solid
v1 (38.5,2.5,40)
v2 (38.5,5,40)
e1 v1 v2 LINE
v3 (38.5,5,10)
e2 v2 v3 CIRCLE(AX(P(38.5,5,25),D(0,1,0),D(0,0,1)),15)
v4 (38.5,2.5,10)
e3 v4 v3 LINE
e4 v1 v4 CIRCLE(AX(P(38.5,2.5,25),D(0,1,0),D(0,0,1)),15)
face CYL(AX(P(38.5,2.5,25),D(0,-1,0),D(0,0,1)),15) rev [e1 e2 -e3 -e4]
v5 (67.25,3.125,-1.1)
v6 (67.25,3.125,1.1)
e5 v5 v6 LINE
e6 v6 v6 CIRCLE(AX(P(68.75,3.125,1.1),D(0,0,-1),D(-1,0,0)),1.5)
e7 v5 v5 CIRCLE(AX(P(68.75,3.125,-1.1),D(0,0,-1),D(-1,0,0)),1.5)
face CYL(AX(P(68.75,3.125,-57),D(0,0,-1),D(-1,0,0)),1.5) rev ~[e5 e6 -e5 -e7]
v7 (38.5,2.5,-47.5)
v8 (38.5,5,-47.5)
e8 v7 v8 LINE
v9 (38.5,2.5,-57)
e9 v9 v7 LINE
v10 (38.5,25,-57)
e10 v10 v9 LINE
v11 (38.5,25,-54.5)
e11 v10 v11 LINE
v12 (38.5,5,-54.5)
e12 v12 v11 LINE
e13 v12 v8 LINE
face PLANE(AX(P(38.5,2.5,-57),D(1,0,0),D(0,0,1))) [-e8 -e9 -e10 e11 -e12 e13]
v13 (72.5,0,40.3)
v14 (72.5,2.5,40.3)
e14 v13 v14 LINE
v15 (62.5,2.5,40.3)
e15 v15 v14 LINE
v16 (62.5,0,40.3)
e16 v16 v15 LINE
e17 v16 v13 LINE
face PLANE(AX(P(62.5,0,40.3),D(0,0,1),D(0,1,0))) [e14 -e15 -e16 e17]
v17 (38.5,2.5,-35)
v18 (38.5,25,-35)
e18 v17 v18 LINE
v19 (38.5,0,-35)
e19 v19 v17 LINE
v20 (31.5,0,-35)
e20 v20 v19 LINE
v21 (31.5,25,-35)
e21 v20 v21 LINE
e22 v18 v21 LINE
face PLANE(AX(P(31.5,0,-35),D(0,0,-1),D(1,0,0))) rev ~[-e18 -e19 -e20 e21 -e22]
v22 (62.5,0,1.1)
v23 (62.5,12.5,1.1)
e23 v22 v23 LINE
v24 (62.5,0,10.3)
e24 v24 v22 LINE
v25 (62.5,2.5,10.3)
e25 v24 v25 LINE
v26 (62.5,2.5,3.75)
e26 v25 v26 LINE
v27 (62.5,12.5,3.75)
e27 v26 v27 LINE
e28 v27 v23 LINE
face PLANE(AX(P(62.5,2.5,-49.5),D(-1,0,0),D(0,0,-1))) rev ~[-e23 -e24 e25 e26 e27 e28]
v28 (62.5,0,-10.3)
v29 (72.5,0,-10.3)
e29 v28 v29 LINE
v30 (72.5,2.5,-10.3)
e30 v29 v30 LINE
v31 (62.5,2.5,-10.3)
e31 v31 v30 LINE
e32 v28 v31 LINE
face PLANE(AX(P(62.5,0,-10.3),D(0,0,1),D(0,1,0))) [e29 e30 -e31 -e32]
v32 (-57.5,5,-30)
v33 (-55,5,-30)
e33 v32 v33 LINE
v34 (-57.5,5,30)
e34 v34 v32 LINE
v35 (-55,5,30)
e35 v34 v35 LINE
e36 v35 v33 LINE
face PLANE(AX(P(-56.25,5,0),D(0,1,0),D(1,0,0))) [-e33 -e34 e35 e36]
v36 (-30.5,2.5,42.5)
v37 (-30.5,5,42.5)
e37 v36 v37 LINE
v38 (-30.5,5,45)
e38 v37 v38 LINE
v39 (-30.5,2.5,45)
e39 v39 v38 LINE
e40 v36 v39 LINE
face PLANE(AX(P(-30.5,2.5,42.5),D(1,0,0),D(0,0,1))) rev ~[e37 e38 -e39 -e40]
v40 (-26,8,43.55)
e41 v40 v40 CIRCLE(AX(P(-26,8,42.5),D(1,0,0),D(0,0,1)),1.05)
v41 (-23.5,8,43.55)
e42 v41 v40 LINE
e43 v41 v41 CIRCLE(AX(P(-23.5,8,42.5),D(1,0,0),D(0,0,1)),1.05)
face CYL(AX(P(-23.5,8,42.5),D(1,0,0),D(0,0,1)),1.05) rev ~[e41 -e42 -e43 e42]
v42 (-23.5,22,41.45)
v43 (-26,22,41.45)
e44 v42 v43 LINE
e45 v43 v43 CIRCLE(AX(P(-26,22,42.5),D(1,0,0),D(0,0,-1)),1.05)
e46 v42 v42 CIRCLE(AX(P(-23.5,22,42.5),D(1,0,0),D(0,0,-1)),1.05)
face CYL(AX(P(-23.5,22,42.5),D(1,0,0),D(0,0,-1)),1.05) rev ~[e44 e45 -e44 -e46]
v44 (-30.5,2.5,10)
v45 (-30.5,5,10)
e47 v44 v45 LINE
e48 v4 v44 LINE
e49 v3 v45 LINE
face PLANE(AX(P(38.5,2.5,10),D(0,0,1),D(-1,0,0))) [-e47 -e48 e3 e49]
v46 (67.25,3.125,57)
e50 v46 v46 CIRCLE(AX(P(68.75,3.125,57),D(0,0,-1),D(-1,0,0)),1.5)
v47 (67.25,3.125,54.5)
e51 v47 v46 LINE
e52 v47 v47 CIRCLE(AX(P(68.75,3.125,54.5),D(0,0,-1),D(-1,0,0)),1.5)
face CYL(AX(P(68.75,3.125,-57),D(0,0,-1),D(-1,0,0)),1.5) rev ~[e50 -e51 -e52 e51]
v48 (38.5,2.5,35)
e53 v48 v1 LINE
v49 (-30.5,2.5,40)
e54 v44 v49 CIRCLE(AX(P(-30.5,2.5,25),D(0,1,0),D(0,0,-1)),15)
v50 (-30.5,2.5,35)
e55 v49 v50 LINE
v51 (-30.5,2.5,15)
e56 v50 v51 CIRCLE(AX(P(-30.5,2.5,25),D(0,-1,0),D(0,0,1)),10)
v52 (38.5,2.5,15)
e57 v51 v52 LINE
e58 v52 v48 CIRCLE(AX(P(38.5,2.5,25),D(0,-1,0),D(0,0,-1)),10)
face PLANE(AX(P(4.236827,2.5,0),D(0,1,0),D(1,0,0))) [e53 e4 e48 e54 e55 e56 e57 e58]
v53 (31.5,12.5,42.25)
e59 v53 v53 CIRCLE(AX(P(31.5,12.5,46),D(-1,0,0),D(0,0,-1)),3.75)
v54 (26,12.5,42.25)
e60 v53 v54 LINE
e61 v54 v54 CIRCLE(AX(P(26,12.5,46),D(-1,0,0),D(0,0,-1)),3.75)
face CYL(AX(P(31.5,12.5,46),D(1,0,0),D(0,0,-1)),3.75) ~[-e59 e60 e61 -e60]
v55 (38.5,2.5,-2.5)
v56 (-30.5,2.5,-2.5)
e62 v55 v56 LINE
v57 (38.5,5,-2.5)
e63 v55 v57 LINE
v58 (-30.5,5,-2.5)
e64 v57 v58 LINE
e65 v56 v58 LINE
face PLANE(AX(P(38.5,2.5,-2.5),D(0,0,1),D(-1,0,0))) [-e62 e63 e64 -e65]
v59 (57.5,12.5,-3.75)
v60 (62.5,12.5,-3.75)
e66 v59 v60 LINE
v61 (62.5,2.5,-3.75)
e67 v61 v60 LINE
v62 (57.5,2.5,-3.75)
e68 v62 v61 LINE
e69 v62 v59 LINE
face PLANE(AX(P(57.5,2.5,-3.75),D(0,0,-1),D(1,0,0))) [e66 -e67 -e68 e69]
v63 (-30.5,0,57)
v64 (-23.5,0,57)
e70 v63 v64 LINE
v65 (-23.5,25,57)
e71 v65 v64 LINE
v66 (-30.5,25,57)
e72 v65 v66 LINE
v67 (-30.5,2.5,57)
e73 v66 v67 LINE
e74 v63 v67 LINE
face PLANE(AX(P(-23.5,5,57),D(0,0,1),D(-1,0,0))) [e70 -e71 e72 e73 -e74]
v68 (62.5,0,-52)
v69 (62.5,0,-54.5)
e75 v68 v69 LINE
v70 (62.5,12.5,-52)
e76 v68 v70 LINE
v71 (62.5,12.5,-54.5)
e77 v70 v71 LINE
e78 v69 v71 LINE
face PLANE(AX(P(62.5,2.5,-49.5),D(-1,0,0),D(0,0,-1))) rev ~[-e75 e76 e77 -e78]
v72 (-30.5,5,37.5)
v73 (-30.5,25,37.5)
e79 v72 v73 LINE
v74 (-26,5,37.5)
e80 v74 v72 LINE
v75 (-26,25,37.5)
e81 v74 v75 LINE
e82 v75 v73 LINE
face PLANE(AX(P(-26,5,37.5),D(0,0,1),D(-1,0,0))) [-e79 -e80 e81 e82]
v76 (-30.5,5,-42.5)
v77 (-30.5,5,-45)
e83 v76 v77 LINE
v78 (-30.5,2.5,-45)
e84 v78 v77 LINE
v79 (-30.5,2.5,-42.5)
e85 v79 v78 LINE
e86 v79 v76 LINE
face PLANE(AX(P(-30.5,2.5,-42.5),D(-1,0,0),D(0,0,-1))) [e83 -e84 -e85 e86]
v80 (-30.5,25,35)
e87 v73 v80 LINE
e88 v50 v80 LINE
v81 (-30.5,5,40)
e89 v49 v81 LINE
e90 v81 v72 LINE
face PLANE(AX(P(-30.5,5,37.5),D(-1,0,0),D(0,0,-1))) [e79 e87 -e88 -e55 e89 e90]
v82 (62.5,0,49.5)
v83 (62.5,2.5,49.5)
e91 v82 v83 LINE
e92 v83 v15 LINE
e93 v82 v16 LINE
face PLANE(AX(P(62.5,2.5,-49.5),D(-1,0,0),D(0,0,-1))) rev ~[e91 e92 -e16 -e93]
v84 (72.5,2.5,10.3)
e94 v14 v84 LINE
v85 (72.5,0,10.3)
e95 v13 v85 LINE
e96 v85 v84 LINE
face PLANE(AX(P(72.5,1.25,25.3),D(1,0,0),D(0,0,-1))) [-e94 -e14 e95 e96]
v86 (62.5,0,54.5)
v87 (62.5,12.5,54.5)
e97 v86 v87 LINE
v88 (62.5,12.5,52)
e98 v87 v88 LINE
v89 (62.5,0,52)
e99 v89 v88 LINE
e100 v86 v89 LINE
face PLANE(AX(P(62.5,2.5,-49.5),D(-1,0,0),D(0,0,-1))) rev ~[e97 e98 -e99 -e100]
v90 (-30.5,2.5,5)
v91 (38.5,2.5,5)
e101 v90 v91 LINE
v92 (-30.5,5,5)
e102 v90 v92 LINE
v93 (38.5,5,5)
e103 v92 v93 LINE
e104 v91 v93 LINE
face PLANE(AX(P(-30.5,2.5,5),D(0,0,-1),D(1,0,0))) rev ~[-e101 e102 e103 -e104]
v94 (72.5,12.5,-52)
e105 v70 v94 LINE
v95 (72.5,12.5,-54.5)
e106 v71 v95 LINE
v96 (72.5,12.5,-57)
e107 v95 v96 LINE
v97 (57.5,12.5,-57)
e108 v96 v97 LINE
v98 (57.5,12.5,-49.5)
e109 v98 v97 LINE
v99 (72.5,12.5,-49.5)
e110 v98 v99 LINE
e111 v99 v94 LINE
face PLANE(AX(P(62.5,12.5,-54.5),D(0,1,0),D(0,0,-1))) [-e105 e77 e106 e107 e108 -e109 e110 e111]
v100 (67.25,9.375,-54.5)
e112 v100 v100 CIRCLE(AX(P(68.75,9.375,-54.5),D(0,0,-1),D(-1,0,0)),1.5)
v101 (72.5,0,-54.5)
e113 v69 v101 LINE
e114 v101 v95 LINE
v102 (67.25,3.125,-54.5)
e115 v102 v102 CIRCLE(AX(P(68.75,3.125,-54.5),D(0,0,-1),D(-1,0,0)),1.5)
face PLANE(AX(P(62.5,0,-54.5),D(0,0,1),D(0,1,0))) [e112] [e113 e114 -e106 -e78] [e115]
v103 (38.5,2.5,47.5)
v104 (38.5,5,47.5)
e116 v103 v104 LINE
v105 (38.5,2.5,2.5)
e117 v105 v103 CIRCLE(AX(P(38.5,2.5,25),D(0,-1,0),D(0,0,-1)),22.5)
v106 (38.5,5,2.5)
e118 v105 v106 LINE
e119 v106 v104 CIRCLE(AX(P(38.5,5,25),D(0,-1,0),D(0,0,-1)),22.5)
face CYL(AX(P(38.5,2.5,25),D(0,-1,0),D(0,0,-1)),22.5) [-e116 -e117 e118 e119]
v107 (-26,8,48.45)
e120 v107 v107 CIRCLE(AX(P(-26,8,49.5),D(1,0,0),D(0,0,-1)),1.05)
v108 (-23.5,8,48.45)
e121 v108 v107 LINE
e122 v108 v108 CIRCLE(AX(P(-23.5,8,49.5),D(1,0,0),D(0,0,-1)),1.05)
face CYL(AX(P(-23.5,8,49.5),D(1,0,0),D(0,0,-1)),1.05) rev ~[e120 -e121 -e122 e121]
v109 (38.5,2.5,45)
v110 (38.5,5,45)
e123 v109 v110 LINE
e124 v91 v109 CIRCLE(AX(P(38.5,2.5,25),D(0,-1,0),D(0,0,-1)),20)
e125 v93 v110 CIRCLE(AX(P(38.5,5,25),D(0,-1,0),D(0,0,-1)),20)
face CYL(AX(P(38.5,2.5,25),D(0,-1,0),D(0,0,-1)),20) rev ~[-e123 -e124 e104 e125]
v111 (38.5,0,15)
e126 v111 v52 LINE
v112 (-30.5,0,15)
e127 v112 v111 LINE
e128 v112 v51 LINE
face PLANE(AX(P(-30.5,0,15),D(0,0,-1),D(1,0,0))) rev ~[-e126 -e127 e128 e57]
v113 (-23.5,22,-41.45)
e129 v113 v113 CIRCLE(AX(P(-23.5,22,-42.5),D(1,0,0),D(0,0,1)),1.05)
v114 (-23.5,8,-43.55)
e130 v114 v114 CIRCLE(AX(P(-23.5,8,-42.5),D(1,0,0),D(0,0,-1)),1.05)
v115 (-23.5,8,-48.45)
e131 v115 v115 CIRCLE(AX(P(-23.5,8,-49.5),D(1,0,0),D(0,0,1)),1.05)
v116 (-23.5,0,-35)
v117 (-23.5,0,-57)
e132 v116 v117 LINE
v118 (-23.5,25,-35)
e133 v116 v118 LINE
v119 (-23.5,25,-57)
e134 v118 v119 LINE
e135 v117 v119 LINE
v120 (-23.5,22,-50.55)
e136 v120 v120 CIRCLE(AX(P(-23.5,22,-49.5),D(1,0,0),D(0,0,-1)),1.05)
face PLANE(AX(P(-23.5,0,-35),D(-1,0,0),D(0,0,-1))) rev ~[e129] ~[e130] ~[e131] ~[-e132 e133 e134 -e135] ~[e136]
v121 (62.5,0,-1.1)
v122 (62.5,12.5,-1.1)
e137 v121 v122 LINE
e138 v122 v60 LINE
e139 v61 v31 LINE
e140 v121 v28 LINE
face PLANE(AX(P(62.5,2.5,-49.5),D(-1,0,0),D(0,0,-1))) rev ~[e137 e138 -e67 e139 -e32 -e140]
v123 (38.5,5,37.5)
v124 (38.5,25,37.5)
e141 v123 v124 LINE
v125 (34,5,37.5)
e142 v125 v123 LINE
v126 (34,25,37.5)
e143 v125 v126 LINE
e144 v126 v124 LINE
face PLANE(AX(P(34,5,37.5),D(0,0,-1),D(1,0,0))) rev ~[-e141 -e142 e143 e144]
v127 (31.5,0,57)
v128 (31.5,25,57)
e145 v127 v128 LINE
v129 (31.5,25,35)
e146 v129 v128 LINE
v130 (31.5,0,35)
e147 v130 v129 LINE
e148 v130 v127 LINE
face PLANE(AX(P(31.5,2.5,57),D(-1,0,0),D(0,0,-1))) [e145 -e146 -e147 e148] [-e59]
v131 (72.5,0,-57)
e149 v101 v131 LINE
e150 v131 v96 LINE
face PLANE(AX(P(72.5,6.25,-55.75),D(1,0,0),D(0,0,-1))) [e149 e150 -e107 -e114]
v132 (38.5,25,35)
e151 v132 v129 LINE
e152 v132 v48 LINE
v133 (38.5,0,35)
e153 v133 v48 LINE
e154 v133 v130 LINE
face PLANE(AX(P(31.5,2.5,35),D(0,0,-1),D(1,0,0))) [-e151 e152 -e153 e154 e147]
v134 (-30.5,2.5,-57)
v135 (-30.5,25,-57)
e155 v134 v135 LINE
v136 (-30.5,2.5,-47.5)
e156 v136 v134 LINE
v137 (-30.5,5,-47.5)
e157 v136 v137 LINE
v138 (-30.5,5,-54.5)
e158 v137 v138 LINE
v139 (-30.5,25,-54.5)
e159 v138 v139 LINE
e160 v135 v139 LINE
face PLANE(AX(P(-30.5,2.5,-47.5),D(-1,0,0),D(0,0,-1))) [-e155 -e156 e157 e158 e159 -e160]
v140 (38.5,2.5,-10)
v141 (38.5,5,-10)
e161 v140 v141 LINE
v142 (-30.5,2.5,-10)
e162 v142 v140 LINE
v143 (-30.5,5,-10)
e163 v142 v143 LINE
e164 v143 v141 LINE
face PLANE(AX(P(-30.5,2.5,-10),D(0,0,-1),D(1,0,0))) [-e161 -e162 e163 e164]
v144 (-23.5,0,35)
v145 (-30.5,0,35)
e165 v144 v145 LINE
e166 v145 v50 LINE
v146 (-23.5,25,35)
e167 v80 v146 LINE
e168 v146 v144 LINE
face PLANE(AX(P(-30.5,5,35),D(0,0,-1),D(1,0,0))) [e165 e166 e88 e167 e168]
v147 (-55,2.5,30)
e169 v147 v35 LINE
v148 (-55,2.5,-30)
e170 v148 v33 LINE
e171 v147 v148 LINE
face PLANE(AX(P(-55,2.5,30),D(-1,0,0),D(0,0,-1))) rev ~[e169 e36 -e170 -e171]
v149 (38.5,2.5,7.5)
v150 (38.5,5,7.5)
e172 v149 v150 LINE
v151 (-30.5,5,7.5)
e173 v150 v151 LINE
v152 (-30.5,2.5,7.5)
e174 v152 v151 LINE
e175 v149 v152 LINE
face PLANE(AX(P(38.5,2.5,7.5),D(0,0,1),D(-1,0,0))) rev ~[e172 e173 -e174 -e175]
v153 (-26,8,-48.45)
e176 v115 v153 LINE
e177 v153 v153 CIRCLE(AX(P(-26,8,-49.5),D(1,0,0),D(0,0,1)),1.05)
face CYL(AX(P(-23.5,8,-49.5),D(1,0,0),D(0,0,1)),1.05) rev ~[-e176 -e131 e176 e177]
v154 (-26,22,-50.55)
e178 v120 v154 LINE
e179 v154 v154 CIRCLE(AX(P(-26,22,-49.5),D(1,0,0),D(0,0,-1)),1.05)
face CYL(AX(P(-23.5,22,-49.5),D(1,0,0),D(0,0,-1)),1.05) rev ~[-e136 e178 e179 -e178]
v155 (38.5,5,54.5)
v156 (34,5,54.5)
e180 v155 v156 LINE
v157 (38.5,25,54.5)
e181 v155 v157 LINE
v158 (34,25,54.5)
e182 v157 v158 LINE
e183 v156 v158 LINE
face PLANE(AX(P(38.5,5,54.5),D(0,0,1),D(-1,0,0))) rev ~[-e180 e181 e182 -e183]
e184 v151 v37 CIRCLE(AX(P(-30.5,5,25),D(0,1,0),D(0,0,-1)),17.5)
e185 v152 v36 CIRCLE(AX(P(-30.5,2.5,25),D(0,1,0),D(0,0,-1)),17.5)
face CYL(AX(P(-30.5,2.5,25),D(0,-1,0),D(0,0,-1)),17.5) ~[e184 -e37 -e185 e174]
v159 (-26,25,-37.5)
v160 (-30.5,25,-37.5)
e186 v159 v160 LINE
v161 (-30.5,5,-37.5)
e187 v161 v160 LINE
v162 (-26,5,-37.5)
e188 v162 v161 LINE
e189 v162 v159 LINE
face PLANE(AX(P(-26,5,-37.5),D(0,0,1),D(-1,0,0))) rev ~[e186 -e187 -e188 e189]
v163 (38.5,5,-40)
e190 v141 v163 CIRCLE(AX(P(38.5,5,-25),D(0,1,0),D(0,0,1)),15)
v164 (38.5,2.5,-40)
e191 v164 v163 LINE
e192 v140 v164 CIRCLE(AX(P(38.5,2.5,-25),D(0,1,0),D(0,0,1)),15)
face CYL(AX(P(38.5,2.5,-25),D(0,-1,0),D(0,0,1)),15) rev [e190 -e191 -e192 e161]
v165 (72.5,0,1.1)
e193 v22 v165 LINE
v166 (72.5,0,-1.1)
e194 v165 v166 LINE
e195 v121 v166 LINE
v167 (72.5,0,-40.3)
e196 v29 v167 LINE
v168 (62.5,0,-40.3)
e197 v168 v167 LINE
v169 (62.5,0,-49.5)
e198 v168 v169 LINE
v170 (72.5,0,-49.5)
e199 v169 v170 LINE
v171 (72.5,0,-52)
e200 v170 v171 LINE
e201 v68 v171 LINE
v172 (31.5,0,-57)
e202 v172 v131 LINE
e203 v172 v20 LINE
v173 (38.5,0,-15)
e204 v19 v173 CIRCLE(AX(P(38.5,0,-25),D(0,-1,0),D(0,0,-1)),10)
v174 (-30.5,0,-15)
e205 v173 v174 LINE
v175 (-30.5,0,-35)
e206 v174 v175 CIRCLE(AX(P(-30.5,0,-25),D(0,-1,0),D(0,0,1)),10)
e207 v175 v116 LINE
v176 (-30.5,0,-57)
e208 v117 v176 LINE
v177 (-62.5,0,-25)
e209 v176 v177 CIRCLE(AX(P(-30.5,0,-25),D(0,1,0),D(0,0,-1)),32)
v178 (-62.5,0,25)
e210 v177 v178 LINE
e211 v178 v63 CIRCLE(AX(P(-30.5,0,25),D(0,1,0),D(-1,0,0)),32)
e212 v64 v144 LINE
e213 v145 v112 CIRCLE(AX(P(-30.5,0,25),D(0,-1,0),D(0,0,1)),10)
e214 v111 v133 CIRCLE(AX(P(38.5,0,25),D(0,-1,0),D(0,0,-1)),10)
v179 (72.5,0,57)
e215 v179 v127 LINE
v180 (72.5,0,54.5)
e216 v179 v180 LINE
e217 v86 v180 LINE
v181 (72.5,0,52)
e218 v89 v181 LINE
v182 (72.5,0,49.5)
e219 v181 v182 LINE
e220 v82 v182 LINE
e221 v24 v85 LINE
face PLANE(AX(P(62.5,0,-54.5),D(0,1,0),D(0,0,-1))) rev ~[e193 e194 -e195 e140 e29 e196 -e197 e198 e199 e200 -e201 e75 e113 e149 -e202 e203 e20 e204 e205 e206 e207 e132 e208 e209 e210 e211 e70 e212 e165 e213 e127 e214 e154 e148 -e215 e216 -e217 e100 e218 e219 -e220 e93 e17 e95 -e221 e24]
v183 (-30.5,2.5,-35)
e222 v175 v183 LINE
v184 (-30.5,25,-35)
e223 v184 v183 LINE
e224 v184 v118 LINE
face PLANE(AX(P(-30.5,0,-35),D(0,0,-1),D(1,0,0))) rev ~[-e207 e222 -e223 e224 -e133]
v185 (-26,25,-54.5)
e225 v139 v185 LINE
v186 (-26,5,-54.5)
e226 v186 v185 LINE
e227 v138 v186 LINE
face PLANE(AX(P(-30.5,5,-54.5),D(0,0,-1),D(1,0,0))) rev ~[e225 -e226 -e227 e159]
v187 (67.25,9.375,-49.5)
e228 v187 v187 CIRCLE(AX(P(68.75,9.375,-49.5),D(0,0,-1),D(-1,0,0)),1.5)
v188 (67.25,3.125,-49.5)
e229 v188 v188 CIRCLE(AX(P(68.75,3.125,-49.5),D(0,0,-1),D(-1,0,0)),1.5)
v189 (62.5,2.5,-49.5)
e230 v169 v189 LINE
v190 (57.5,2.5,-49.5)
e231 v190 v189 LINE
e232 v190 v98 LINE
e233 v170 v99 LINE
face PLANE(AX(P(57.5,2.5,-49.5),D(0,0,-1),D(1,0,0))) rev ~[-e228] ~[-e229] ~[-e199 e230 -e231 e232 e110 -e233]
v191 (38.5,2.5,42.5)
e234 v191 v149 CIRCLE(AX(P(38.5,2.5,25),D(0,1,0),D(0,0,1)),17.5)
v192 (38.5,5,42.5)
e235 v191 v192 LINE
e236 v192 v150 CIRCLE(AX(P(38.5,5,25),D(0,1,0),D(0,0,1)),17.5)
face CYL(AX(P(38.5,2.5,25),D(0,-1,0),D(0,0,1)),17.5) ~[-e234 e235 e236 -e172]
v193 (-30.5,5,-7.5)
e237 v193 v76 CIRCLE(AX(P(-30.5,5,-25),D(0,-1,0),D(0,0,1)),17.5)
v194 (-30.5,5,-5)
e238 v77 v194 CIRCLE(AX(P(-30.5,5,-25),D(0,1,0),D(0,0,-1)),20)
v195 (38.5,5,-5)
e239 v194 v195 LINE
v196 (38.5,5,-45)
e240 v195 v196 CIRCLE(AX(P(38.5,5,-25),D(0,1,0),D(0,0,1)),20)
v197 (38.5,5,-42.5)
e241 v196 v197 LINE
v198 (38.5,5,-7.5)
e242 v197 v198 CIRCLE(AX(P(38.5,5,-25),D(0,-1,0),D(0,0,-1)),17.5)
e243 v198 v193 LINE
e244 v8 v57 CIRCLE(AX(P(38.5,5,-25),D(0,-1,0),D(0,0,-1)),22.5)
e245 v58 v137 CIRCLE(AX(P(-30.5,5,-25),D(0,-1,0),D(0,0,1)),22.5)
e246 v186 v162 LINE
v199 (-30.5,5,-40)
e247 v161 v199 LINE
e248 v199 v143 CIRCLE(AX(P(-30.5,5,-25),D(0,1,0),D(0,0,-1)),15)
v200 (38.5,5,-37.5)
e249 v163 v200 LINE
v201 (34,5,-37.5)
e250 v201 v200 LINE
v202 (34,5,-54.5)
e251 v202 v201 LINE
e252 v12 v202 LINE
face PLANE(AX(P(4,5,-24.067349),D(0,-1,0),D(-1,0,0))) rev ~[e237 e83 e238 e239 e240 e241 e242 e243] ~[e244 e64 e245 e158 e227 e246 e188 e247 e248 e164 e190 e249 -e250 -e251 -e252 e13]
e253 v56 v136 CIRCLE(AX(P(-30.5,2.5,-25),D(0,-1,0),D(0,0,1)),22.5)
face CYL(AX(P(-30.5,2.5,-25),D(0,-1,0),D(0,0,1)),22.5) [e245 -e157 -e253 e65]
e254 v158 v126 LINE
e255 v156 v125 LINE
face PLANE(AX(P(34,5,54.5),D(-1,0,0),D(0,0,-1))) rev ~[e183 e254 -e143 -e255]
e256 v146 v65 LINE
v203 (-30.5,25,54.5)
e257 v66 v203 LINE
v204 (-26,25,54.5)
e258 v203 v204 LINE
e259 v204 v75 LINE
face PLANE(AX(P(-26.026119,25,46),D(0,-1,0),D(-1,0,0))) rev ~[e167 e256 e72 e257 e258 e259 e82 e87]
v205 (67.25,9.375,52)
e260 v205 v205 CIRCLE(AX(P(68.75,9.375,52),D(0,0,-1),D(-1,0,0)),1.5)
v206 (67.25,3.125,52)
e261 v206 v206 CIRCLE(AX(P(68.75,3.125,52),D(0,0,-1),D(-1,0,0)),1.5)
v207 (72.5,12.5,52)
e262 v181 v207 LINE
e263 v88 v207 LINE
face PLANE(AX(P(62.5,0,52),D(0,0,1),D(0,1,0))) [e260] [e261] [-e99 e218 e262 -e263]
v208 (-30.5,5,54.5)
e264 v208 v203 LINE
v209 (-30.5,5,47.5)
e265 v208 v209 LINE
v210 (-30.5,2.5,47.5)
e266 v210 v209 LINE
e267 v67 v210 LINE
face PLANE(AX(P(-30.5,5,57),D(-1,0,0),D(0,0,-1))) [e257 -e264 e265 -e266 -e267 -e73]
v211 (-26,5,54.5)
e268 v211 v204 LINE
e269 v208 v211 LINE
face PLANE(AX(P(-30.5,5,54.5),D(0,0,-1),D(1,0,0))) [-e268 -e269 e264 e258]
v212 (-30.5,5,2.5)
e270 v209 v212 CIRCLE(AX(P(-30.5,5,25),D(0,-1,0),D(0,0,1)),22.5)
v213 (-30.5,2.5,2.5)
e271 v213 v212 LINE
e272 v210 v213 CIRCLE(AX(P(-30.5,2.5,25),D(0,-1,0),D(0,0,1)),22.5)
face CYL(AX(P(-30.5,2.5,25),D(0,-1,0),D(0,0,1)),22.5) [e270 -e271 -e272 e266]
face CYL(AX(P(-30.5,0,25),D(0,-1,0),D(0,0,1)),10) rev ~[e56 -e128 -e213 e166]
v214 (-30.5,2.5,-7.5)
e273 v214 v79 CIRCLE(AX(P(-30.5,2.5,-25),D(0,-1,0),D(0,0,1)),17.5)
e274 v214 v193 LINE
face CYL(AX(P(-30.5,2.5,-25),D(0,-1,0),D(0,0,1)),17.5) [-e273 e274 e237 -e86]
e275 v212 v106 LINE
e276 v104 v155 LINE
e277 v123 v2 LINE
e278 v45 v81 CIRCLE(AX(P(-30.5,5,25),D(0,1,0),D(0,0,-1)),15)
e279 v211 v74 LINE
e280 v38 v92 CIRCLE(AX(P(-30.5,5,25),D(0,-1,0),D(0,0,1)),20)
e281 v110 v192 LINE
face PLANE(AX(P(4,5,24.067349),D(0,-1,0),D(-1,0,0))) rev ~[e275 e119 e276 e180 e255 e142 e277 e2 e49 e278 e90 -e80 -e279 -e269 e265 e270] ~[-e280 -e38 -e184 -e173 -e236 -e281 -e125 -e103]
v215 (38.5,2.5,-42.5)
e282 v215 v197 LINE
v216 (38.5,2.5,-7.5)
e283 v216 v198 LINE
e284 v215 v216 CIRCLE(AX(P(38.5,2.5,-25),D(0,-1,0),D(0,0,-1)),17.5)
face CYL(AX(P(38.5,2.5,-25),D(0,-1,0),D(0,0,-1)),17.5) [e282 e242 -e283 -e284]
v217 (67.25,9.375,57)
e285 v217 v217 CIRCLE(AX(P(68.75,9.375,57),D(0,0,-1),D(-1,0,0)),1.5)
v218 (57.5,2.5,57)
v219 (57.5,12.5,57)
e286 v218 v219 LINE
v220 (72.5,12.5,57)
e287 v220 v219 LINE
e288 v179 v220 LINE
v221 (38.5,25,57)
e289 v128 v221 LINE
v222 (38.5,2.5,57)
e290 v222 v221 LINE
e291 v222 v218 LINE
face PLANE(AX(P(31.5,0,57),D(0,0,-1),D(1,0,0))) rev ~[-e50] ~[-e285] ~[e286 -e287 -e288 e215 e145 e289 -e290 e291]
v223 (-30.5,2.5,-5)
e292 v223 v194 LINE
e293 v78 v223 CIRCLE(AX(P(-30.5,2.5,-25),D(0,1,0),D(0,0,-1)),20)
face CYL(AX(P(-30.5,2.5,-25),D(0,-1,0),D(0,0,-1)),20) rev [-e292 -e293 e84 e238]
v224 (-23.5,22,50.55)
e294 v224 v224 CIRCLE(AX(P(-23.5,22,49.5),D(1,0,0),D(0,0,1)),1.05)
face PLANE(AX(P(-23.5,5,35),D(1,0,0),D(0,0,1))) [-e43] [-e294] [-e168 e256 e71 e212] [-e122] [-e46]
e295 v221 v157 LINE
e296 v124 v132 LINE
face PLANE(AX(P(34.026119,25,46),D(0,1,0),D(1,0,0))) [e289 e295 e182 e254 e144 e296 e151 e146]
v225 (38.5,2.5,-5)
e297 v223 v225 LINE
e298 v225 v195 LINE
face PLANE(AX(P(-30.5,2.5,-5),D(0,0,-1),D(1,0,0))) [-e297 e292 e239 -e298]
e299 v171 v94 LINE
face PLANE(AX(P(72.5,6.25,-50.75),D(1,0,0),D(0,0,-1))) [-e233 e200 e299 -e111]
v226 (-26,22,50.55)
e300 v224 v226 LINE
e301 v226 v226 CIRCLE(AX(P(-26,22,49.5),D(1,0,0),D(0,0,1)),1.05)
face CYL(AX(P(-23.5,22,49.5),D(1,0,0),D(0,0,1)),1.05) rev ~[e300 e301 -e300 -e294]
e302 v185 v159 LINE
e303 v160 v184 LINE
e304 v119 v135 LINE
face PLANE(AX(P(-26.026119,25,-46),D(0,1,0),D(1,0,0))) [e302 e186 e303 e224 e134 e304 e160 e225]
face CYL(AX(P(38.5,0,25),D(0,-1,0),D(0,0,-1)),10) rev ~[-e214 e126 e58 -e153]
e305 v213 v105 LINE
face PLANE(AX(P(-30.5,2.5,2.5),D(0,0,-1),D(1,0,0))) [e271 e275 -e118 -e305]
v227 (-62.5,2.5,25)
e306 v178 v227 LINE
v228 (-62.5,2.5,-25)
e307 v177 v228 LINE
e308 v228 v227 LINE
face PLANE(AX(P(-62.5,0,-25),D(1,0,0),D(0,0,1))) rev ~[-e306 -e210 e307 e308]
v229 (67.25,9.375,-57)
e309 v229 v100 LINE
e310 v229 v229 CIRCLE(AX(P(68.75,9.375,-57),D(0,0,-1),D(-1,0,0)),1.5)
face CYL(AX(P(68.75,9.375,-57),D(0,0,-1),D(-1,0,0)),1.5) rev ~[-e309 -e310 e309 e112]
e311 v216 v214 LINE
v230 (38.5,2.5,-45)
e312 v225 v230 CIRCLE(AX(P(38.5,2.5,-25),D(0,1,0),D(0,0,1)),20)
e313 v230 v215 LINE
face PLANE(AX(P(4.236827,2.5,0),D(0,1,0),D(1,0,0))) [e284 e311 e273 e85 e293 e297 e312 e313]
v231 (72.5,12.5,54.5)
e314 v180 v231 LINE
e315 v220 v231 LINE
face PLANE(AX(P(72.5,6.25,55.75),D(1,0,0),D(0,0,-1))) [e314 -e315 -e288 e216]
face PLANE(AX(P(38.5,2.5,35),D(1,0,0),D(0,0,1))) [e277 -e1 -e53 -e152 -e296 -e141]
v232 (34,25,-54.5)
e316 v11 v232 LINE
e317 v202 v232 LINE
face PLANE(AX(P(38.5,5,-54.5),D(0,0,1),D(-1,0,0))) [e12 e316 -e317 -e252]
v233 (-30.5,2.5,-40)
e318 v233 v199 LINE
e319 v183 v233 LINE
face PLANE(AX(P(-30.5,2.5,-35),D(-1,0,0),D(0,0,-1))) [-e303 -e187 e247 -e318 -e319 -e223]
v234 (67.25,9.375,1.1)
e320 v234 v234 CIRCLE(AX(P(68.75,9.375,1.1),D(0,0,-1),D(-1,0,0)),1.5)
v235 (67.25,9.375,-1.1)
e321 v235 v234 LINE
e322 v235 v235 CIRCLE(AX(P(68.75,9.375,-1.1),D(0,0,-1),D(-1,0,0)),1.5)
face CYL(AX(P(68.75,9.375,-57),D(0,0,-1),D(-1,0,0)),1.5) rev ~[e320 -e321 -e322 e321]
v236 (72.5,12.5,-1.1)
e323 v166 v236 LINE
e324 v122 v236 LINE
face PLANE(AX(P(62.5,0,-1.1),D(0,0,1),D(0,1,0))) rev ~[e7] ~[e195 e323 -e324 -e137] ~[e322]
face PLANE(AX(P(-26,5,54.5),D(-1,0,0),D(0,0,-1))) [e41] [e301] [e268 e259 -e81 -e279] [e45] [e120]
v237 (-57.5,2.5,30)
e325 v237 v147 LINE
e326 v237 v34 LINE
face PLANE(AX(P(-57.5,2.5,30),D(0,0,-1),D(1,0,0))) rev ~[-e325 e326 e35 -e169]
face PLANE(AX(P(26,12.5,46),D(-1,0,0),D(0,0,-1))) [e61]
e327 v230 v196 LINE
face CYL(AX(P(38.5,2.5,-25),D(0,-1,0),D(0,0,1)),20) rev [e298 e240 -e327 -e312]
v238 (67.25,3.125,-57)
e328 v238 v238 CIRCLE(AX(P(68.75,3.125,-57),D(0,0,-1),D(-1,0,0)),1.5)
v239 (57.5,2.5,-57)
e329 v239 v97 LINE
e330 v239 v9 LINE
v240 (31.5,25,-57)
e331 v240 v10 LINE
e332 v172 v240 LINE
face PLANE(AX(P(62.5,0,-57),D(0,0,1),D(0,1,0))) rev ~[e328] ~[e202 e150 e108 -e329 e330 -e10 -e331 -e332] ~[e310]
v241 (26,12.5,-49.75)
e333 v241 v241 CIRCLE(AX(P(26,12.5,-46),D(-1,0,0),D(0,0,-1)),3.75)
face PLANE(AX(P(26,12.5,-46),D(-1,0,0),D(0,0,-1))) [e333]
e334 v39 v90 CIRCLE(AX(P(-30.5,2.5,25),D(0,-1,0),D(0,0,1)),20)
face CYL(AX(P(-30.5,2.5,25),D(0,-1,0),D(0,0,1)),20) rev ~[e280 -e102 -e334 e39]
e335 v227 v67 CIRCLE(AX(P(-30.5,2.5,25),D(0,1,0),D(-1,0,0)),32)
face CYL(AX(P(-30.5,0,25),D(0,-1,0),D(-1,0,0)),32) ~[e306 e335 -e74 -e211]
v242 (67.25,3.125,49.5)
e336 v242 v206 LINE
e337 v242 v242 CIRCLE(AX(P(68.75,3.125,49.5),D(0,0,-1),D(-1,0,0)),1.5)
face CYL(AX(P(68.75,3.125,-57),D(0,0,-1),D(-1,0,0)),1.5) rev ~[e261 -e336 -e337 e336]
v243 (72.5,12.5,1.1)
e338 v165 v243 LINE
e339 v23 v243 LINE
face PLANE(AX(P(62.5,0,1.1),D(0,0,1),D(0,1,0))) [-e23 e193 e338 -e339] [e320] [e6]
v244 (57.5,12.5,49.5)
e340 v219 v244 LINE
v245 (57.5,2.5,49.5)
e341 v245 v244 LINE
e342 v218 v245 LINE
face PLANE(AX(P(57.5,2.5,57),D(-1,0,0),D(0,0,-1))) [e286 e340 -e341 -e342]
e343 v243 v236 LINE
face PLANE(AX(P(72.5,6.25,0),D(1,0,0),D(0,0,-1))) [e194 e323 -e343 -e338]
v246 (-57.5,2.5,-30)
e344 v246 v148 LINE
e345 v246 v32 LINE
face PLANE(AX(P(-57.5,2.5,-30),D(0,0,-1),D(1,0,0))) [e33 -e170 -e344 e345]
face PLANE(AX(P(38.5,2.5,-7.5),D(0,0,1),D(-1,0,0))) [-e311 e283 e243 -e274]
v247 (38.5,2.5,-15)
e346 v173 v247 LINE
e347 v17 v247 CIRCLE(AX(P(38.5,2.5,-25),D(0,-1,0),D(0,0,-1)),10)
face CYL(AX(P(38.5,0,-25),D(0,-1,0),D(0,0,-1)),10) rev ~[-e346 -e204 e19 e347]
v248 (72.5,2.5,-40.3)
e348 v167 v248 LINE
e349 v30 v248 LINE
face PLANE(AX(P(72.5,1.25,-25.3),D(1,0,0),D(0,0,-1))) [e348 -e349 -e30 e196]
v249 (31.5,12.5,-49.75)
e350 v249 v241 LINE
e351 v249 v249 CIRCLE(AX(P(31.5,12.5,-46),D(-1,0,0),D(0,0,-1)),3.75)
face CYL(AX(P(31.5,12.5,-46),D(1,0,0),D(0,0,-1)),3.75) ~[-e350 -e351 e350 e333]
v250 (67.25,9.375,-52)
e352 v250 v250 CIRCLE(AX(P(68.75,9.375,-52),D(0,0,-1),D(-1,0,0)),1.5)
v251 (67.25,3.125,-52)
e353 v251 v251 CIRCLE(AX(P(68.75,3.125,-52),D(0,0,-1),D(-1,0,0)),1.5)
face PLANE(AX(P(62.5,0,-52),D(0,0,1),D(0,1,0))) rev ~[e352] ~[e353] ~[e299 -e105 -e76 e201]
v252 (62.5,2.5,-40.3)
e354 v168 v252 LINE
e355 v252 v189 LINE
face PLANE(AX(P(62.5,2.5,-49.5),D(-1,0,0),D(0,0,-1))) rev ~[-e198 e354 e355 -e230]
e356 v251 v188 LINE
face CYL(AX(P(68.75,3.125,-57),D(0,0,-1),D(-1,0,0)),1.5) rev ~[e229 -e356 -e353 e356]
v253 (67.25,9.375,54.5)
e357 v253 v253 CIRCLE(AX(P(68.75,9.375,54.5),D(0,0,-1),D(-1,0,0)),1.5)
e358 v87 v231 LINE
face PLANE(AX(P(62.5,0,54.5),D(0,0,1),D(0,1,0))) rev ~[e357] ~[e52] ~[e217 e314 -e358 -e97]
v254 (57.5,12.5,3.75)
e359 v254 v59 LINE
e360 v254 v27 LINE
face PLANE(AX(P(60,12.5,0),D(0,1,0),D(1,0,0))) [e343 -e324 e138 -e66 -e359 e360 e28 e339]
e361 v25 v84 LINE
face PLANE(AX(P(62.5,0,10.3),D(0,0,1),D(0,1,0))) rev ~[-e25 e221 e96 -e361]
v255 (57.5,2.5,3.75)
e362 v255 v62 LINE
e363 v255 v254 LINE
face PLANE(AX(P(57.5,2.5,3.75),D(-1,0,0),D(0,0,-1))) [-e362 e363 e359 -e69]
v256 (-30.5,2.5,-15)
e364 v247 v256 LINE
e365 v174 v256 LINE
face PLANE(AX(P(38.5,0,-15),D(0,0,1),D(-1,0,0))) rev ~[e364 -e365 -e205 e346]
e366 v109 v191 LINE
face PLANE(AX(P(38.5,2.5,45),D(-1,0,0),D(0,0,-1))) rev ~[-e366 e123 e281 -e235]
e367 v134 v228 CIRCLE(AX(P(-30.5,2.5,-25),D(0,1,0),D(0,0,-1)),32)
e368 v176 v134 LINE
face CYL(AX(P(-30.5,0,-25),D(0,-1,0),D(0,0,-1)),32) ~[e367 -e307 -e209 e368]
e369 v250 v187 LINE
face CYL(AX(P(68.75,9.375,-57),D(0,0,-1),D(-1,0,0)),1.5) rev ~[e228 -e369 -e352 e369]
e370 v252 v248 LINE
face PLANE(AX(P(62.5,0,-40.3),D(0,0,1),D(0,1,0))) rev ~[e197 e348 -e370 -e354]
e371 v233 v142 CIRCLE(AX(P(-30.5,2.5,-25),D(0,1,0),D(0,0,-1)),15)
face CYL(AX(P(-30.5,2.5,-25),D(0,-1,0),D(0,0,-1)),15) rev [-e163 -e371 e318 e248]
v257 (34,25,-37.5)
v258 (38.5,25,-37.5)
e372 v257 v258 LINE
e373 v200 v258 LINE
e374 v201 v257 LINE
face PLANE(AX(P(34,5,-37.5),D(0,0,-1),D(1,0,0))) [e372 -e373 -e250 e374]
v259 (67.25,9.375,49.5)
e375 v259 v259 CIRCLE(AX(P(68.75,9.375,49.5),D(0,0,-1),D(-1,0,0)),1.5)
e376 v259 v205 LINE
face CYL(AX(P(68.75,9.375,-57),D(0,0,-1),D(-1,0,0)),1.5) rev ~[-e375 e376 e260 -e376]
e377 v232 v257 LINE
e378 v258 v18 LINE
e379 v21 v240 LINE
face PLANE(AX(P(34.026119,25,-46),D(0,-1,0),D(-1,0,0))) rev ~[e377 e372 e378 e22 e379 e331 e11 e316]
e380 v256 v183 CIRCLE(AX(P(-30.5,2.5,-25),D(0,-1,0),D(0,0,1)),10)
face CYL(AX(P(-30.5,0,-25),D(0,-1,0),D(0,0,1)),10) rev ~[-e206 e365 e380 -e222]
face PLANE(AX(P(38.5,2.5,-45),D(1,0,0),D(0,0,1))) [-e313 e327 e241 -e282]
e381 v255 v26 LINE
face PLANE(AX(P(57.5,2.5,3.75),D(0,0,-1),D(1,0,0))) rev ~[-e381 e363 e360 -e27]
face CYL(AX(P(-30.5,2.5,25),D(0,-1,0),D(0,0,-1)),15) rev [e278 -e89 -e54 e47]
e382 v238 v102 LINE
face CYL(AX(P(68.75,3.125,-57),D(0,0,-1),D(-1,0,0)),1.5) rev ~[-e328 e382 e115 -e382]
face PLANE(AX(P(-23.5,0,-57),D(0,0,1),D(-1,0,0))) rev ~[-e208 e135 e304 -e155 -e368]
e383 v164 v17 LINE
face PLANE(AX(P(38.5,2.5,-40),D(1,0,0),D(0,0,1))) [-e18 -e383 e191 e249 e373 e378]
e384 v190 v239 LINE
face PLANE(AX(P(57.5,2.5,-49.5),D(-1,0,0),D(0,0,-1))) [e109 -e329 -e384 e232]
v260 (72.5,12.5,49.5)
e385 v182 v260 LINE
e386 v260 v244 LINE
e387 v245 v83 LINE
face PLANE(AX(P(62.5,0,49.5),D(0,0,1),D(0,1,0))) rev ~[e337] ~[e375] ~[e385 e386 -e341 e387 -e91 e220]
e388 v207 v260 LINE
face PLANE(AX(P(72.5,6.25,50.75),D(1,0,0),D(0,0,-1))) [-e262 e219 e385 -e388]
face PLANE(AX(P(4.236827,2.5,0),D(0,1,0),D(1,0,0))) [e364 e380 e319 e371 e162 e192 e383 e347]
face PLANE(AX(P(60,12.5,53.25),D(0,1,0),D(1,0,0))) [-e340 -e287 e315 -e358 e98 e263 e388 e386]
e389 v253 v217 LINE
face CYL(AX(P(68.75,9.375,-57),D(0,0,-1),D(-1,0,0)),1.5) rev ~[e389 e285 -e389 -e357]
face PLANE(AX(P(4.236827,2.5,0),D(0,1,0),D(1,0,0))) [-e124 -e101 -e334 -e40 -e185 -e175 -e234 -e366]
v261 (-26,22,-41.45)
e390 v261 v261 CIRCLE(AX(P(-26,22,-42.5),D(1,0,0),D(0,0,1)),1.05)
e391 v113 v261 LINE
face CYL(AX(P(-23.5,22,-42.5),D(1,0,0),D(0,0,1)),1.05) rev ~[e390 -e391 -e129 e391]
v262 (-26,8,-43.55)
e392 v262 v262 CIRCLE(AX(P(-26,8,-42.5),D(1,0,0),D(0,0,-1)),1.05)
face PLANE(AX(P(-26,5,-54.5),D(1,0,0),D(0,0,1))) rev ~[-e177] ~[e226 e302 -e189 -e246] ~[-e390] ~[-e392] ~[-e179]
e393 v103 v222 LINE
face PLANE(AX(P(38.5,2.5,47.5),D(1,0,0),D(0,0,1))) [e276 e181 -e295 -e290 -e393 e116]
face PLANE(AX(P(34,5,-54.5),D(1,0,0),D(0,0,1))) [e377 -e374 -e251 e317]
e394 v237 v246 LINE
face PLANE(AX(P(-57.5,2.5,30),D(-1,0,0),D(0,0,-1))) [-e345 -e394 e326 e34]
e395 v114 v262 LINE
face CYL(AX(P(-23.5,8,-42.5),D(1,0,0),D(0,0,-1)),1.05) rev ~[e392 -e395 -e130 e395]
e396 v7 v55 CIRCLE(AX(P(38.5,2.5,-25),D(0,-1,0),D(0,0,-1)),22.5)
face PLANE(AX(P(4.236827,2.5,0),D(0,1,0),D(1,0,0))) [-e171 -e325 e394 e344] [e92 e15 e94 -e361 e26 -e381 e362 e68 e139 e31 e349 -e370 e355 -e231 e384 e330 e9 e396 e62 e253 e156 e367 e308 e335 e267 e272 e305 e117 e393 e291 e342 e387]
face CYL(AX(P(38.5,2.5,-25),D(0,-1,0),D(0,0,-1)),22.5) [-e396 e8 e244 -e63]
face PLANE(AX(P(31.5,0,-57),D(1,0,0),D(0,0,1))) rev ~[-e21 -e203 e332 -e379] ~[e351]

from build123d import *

# Parameters (mm, degrees)
BOSS_EXTRUDE1_DEPTH = 2.5
SKETCH3_W           = 2.5
SKETCH3_H           = 60
BOSS_EXTRUDE2_DEPTH = 2.5
BOSS_EXTRUDE3_DEPTH = 20
SKETCH5_R           = 3.75
BOSS_EXTRUDE4_DEPTH = 5.5
SKETCH6_R           = 3.75
BOSS_EXTRUDE5_DEPTH = 5.5
SKETCH8_R           = 1.05
CUT_EXTRUDE1_DEPTH  = 2.5
SKETCH9_R           = 1.05
CUT_EXTRUDE2_DEPTH  = 2.5
SKETCH10_W          = 5
SKETCH10_H          = 7.5
BOSS_EXTRUDE6_DEPTH = 10
SKETCH11_W          = 2.5
SKETCH11_H          = 12.5
SKETCH11_W_2        = 2.2
BOSS_EXTRUDE7_DEPTH = 10
SKETCH12_R          = 1.5
CUT_EXTRUDE3_DEPTH  = 114
SKETCH14_W          = 30
SKETCH14_H          = 2.5
BOSS_EXTRUDE8_DEPTH = 10


with BuildPart() as part:
    # Sketch1 → Boss-Extrude1 (new body)
    with BuildSketch(Plane(origin=(0, 0, 0), x_dir=(1, 0, 0), z_dir=(0, 1, 0))):
        with BuildLine():
            Line((-62.5, 25), (-62.5, -25))
            ThreePointArc((-62.5, -25), (-53.127416998, -47.627416998), (-30.5, -57))
            Line((-30.5, -57), (-23.5, -57))
            Line((-23.5, -57), (-23.5, -35))
            Line((-23.5, -35), (-30.5, -35))
            ThreePointArc((-30.5, -35), (-40.5, -25), (-30.5, -15))
            Line((-30.5, -15), (38.5, -15))
            ThreePointArc((38.5, -15), (48.5, -25), (38.5, -35))
            Line((38.5, -35), (31.5, -35))
            Line((31.5, -35), (31.5, -57))
            Line((31.5, -57), (38.5, -57))
            Line((38.5, -57), (62.5, -57))
            Line((62.5, -57), (62.5, 57))
            Line((62.5, 57), (38.5, 57))
            Line((38.5, 57), (31.5, 57))
            Line((31.5, 57), (31.5, 35))
            Line((31.5, 35), (38.5, 35))
            ThreePointArc((38.5, 35), (48.5, 25), (38.5, 15))
            Line((38.5, 15), (-30.5, 15))
            ThreePointArc((-30.5, 15), (-40.5, 25), (-30.5, 35))
            Line((-30.5, 35), (-23.5, 35))
            Line((-23.5, 35), (-23.5, 57))
            Line((-23.5, 57), (-30.5, 57))
            ThreePointArc((-30.5, 57), (-53.127416998, 47.627416998), (-62.5, 25))
        make_face()
    extrude(amount=BOSS_EXTRUDE1_DEPTH)

    # Sketch3 → Boss-Extrude2 (add)
    # profile 1 of 3: a face of its own
    with BuildSketch(Plane(origin=(0, 2.5, 0), x_dir=(1, 0, 0), z_dir=(0, 1, 0))):
        with BuildLine():
            Line((-30.5, -2.5), (38.5, -2.5))
            ThreePointArc((38.5, -2.5), (61, -25), (38.5, -47.5))
            Line((38.5, -47.5), (38.5, -57))
            Line((38.5, -57), (31.5, -57))
            Line((31.5, -57), (31.5, -35))
            Line((31.5, -35), (38.5, -35))
            Line((38.5, -35), (38.5, -40))
            ThreePointArc((38.5, -40), (53.5, -25), (38.5, -10))
            Line((38.5, -10), (-30.5, -10))
            ThreePointArc((-30.5, -10), (-45.5, -25), (-30.5, -40))
            Line((-30.5, -40), (-30.5, -35))
            Line((-30.5, -35), (-23.5, -35))
            Line((-23.5, -35), (-23.5, -57))
            Line((-23.5, -57), (-30.5, -57))
            Line((-30.5, -57), (-30.5, -47.5))
            ThreePointArc((-30.5, -47.5), (-53, -25), (-30.5, -2.5))
        make_face()
        with BuildLine():
            Line((-30.5, -5), (38.5, -5))
            ThreePointArc((38.5, -5), (58.5, -25), (38.5, -45))
            Line((38.5, -45), (38.5, -42.5))
            ThreePointArc((38.5, -42.5), (56, -25), (38.5, -7.5))
            Line((38.5, -7.5), (-30.5, -7.5))
            ThreePointArc((-30.5, -7.5), (-48, -25), (-30.5, -42.5))
            Line((-30.5, -42.5), (-30.5, -45))
            ThreePointArc((-30.5, -45), (-50.5, -25), (-30.5, -5))
        make_face(mode=Mode.SUBTRACT)
    # profile 2 of 3: a face of its own
    with BuildSketch(Plane(origin=(0, 2.5, 0), x_dir=(1, 0, 0), z_dir=(0, 1, 0))):
        with Locations((-56.25, 0)):
            Rectangle(SKETCH3_W, SKETCH3_H)
    # profile 3 of 3: a face of its own
    with BuildSketch(Plane(origin=(0, 2.5, 0), x_dir=(1, 0, 0), z_dir=(0, 1, 0))):
        with BuildLine():
            Line((-30.5, 47.5), (-30.5, 57))
            Line((-30.5, 57), (-23.5, 57))
            Line((-23.5, 57), (-23.5, 35))
            Line((-23.5, 35), (-30.5, 35))
            Line((-30.5, 35), (-30.5, 40))
            ThreePointArc((-30.5, 40), (-45.5, 25), (-30.5, 10))
            Line((-30.5, 10), (38.5, 10))
            ThreePointArc((38.5, 10), (53.5, 25), (38.5, 40))
            Line((38.5, 40), (38.5, 35))
            Line((38.5, 35), (31.5, 35))
            Line((31.5, 35), (31.5, 57))
            Line((31.5, 57), (38.5, 57))
            Line((38.5, 57), (38.5, 47.5))
            ThreePointArc((38.5, 47.5), (61, 25), (38.5, 2.5))
            Line((38.5, 2.5), (-30.5, 2.5))
            ThreePointArc((-30.5, 2.5), (-53, 25), (-30.5, 47.5))
        make_face()
        with BuildLine():
            Line((-30.5, 42.5), (-30.5, 45))
            ThreePointArc((-30.5, 45), (-50.5, 25), (-30.5, 5))
            Line((-30.5, 5), (38.5, 5))
            ThreePointArc((38.5, 5), (58.5, 25), (38.5, 45))
            Line((38.5, 45), (38.5, 42.5))
            ThreePointArc((38.5, 42.5), (56, 25), (38.5, 7.5))
            Line((38.5, 7.5), (-30.5, 7.5))
            ThreePointArc((-30.5, 7.5), (-48, 25), (-30.5, 42.5))
        make_face(mode=Mode.SUBTRACT)
    extrude(amount=BOSS_EXTRUDE2_DEPTH)

    # Sketch4 → Boss-Extrude3 (add)
    with BuildSketch(Plane(origin=(0, 5, 0), x_dir=(1, 0, 0), z_dir=(0, 1, 0))):
        Polygon((-30.5, -35), (-23.5, -35), (-23.5, -57), (-30.5, -57), (-30.5, -54.5), (-26, -54.5), (-26, -37.5), (-30.5, -37.5), align=None)
        Polygon((38.5, -35), (31.5, -35), (31.5, -57), (38.5, -57), (38.5, -54.5), (34, -54.5), (34, -37.5), (38.5, -37.5), align=None)
        Polygon((38.5, 37.5), (38.5, 35), (31.5, 35), (31.5, 57), (38.5, 57), (38.5, 54.5), (34, 54.5), (34, 37.5), align=None)
        Polygon((-30.5, 37.5), (-30.5, 35), (-23.5, 35), (-23.5, 57), (-30.5, 57), (-30.5, 54.5), (-26, 54.5), (-26, 37.5), align=None)
    extrude(amount=BOSS_EXTRUDE3_DEPTH)

    # Sketch5 → Boss-Extrude4 (add)
    with BuildSketch(Plane.ZY.offset(-31.5)):
        with Locations(Location((46, 12.5, 0), (0, 0, 180))):
            Circle(SKETCH5_R)
    extrude(amount=BOSS_EXTRUDE4_DEPTH)

    # Sketch6 → Boss-Extrude5 (add)
    with BuildSketch(Plane.ZY.offset(-31.5)):
        with Locations(Location((-46, 12.5, 0), (0, 0, 180))):
            Circle(SKETCH6_R)
    extrude(amount=BOSS_EXTRUDE5_DEPTH)

    # Sketch8 → Cut-Extrude1 (cut)
    with BuildSketch(Plane(origin=(-23.5, 0, 0), x_dir=(0, 0, -1), z_dir=(1, 0, 0))):
        with Locations((-42.5, 22)):
            Circle(SKETCH8_R)
        with Locations(Location((-49.5, 22, 0), (0, 0, 180))):
            Circle(SKETCH8_R)
        with Locations((-49.5, 8)):
            Circle(SKETCH8_R)
        with Locations(Location((-42.5, 8, 0), (0, 0, 180))):
            Circle(SKETCH8_R)
    extrude(amount=-CUT_EXTRUDE1_DEPTH, mode=Mode.SUBTRACT)

    # Sketch9 → Cut-Extrude2 (cut)
    with BuildSketch(Plane(origin=(-23.5, 0, 0), x_dir=(0, 0, -1), z_dir=(1, 0, 0))):
        with Locations((49.5, 22)):
            Circle(SKETCH9_R)
        with Locations(Location((42.5, 22, 0), (0, 0, 180))):
            Circle(SKETCH9_R)
        with Locations((42.5, 8)):
            Circle(SKETCH9_R)
        with Locations(Location((49.5, 8, 0), (0, 0, 180))):
            Circle(SKETCH9_R)
    extrude(amount=-CUT_EXTRUDE2_DEPTH, mode=Mode.SUBTRACT)

    # Sketch10 → Boss-Extrude6 (add)
    with BuildSketch(Plane(origin=(0, 2.5, 0), x_dir=(1, 0, 0), z_dir=(0, 1, 0))):
        with Locations((60, 53.25)):
            Rectangle(SKETCH10_W, SKETCH10_H)
        with Locations((60, 0)):
            Rectangle(SKETCH10_W, SKETCH10_H)
        with Locations((60, -53.25)):
            Rectangle(SKETCH10_W, SKETCH10_H)
    extrude(amount=BOSS_EXTRUDE6_DEPTH)

    # Sketch11 → Boss-Extrude7 (add)
    with BuildSketch(Plane(origin=(62.5, 0, 0), x_dir=(0, 0, -1), z_dir=(1, 0, 0))):
        with Locations((55.75, 6.25)):
            Rectangle(SKETCH11_W, SKETCH11_H)
        with Locations((0, 6.25)):
            Rectangle(SKETCH11_W_2, SKETCH11_H)
        with Locations((50.75, 6.25)):
            Rectangle(SKETCH11_W, SKETCH11_H)
        with Locations((-50.75, 6.25)):
            Rectangle(SKETCH11_W, SKETCH11_H)
        with Locations((-55.75, 6.25)):
            Rectangle(SKETCH11_W, SKETCH11_H)
    extrude(amount=BOSS_EXTRUDE7_DEPTH)

    # Sketch12 → Cut-Extrude3 (cut)
    with BuildSketch(Plane(origin=(0, 0, -57), x_dir=(-1, 0, 0), z_dir=(0, 0, -1))):
        with Locations((-68.75, 9.375)):
            Circle(SKETCH12_R)
        with Locations((-68.75, 3.125)):
            Circle(SKETCH12_R)
    extrude(amount=-CUT_EXTRUDE3_DEPTH, mode=Mode.SUBTRACT)

    # Sketch14 → Boss-Extrude8 (add)
    with BuildSketch(Plane(origin=(62.5, 0, 0), x_dir=(0, 0, -1), z_dir=(1, 0, 0))):
        with Locations((-25.3, 1.25)):
            Rectangle(SKETCH14_W, SKETCH14_H)
        with Locations((25.3, 1.25)):
            Rectangle(SKETCH14_W, SKETCH14_H)
    extrude(amount=BOSS_EXTRUDE8_DEPTH)


solid = part.part
